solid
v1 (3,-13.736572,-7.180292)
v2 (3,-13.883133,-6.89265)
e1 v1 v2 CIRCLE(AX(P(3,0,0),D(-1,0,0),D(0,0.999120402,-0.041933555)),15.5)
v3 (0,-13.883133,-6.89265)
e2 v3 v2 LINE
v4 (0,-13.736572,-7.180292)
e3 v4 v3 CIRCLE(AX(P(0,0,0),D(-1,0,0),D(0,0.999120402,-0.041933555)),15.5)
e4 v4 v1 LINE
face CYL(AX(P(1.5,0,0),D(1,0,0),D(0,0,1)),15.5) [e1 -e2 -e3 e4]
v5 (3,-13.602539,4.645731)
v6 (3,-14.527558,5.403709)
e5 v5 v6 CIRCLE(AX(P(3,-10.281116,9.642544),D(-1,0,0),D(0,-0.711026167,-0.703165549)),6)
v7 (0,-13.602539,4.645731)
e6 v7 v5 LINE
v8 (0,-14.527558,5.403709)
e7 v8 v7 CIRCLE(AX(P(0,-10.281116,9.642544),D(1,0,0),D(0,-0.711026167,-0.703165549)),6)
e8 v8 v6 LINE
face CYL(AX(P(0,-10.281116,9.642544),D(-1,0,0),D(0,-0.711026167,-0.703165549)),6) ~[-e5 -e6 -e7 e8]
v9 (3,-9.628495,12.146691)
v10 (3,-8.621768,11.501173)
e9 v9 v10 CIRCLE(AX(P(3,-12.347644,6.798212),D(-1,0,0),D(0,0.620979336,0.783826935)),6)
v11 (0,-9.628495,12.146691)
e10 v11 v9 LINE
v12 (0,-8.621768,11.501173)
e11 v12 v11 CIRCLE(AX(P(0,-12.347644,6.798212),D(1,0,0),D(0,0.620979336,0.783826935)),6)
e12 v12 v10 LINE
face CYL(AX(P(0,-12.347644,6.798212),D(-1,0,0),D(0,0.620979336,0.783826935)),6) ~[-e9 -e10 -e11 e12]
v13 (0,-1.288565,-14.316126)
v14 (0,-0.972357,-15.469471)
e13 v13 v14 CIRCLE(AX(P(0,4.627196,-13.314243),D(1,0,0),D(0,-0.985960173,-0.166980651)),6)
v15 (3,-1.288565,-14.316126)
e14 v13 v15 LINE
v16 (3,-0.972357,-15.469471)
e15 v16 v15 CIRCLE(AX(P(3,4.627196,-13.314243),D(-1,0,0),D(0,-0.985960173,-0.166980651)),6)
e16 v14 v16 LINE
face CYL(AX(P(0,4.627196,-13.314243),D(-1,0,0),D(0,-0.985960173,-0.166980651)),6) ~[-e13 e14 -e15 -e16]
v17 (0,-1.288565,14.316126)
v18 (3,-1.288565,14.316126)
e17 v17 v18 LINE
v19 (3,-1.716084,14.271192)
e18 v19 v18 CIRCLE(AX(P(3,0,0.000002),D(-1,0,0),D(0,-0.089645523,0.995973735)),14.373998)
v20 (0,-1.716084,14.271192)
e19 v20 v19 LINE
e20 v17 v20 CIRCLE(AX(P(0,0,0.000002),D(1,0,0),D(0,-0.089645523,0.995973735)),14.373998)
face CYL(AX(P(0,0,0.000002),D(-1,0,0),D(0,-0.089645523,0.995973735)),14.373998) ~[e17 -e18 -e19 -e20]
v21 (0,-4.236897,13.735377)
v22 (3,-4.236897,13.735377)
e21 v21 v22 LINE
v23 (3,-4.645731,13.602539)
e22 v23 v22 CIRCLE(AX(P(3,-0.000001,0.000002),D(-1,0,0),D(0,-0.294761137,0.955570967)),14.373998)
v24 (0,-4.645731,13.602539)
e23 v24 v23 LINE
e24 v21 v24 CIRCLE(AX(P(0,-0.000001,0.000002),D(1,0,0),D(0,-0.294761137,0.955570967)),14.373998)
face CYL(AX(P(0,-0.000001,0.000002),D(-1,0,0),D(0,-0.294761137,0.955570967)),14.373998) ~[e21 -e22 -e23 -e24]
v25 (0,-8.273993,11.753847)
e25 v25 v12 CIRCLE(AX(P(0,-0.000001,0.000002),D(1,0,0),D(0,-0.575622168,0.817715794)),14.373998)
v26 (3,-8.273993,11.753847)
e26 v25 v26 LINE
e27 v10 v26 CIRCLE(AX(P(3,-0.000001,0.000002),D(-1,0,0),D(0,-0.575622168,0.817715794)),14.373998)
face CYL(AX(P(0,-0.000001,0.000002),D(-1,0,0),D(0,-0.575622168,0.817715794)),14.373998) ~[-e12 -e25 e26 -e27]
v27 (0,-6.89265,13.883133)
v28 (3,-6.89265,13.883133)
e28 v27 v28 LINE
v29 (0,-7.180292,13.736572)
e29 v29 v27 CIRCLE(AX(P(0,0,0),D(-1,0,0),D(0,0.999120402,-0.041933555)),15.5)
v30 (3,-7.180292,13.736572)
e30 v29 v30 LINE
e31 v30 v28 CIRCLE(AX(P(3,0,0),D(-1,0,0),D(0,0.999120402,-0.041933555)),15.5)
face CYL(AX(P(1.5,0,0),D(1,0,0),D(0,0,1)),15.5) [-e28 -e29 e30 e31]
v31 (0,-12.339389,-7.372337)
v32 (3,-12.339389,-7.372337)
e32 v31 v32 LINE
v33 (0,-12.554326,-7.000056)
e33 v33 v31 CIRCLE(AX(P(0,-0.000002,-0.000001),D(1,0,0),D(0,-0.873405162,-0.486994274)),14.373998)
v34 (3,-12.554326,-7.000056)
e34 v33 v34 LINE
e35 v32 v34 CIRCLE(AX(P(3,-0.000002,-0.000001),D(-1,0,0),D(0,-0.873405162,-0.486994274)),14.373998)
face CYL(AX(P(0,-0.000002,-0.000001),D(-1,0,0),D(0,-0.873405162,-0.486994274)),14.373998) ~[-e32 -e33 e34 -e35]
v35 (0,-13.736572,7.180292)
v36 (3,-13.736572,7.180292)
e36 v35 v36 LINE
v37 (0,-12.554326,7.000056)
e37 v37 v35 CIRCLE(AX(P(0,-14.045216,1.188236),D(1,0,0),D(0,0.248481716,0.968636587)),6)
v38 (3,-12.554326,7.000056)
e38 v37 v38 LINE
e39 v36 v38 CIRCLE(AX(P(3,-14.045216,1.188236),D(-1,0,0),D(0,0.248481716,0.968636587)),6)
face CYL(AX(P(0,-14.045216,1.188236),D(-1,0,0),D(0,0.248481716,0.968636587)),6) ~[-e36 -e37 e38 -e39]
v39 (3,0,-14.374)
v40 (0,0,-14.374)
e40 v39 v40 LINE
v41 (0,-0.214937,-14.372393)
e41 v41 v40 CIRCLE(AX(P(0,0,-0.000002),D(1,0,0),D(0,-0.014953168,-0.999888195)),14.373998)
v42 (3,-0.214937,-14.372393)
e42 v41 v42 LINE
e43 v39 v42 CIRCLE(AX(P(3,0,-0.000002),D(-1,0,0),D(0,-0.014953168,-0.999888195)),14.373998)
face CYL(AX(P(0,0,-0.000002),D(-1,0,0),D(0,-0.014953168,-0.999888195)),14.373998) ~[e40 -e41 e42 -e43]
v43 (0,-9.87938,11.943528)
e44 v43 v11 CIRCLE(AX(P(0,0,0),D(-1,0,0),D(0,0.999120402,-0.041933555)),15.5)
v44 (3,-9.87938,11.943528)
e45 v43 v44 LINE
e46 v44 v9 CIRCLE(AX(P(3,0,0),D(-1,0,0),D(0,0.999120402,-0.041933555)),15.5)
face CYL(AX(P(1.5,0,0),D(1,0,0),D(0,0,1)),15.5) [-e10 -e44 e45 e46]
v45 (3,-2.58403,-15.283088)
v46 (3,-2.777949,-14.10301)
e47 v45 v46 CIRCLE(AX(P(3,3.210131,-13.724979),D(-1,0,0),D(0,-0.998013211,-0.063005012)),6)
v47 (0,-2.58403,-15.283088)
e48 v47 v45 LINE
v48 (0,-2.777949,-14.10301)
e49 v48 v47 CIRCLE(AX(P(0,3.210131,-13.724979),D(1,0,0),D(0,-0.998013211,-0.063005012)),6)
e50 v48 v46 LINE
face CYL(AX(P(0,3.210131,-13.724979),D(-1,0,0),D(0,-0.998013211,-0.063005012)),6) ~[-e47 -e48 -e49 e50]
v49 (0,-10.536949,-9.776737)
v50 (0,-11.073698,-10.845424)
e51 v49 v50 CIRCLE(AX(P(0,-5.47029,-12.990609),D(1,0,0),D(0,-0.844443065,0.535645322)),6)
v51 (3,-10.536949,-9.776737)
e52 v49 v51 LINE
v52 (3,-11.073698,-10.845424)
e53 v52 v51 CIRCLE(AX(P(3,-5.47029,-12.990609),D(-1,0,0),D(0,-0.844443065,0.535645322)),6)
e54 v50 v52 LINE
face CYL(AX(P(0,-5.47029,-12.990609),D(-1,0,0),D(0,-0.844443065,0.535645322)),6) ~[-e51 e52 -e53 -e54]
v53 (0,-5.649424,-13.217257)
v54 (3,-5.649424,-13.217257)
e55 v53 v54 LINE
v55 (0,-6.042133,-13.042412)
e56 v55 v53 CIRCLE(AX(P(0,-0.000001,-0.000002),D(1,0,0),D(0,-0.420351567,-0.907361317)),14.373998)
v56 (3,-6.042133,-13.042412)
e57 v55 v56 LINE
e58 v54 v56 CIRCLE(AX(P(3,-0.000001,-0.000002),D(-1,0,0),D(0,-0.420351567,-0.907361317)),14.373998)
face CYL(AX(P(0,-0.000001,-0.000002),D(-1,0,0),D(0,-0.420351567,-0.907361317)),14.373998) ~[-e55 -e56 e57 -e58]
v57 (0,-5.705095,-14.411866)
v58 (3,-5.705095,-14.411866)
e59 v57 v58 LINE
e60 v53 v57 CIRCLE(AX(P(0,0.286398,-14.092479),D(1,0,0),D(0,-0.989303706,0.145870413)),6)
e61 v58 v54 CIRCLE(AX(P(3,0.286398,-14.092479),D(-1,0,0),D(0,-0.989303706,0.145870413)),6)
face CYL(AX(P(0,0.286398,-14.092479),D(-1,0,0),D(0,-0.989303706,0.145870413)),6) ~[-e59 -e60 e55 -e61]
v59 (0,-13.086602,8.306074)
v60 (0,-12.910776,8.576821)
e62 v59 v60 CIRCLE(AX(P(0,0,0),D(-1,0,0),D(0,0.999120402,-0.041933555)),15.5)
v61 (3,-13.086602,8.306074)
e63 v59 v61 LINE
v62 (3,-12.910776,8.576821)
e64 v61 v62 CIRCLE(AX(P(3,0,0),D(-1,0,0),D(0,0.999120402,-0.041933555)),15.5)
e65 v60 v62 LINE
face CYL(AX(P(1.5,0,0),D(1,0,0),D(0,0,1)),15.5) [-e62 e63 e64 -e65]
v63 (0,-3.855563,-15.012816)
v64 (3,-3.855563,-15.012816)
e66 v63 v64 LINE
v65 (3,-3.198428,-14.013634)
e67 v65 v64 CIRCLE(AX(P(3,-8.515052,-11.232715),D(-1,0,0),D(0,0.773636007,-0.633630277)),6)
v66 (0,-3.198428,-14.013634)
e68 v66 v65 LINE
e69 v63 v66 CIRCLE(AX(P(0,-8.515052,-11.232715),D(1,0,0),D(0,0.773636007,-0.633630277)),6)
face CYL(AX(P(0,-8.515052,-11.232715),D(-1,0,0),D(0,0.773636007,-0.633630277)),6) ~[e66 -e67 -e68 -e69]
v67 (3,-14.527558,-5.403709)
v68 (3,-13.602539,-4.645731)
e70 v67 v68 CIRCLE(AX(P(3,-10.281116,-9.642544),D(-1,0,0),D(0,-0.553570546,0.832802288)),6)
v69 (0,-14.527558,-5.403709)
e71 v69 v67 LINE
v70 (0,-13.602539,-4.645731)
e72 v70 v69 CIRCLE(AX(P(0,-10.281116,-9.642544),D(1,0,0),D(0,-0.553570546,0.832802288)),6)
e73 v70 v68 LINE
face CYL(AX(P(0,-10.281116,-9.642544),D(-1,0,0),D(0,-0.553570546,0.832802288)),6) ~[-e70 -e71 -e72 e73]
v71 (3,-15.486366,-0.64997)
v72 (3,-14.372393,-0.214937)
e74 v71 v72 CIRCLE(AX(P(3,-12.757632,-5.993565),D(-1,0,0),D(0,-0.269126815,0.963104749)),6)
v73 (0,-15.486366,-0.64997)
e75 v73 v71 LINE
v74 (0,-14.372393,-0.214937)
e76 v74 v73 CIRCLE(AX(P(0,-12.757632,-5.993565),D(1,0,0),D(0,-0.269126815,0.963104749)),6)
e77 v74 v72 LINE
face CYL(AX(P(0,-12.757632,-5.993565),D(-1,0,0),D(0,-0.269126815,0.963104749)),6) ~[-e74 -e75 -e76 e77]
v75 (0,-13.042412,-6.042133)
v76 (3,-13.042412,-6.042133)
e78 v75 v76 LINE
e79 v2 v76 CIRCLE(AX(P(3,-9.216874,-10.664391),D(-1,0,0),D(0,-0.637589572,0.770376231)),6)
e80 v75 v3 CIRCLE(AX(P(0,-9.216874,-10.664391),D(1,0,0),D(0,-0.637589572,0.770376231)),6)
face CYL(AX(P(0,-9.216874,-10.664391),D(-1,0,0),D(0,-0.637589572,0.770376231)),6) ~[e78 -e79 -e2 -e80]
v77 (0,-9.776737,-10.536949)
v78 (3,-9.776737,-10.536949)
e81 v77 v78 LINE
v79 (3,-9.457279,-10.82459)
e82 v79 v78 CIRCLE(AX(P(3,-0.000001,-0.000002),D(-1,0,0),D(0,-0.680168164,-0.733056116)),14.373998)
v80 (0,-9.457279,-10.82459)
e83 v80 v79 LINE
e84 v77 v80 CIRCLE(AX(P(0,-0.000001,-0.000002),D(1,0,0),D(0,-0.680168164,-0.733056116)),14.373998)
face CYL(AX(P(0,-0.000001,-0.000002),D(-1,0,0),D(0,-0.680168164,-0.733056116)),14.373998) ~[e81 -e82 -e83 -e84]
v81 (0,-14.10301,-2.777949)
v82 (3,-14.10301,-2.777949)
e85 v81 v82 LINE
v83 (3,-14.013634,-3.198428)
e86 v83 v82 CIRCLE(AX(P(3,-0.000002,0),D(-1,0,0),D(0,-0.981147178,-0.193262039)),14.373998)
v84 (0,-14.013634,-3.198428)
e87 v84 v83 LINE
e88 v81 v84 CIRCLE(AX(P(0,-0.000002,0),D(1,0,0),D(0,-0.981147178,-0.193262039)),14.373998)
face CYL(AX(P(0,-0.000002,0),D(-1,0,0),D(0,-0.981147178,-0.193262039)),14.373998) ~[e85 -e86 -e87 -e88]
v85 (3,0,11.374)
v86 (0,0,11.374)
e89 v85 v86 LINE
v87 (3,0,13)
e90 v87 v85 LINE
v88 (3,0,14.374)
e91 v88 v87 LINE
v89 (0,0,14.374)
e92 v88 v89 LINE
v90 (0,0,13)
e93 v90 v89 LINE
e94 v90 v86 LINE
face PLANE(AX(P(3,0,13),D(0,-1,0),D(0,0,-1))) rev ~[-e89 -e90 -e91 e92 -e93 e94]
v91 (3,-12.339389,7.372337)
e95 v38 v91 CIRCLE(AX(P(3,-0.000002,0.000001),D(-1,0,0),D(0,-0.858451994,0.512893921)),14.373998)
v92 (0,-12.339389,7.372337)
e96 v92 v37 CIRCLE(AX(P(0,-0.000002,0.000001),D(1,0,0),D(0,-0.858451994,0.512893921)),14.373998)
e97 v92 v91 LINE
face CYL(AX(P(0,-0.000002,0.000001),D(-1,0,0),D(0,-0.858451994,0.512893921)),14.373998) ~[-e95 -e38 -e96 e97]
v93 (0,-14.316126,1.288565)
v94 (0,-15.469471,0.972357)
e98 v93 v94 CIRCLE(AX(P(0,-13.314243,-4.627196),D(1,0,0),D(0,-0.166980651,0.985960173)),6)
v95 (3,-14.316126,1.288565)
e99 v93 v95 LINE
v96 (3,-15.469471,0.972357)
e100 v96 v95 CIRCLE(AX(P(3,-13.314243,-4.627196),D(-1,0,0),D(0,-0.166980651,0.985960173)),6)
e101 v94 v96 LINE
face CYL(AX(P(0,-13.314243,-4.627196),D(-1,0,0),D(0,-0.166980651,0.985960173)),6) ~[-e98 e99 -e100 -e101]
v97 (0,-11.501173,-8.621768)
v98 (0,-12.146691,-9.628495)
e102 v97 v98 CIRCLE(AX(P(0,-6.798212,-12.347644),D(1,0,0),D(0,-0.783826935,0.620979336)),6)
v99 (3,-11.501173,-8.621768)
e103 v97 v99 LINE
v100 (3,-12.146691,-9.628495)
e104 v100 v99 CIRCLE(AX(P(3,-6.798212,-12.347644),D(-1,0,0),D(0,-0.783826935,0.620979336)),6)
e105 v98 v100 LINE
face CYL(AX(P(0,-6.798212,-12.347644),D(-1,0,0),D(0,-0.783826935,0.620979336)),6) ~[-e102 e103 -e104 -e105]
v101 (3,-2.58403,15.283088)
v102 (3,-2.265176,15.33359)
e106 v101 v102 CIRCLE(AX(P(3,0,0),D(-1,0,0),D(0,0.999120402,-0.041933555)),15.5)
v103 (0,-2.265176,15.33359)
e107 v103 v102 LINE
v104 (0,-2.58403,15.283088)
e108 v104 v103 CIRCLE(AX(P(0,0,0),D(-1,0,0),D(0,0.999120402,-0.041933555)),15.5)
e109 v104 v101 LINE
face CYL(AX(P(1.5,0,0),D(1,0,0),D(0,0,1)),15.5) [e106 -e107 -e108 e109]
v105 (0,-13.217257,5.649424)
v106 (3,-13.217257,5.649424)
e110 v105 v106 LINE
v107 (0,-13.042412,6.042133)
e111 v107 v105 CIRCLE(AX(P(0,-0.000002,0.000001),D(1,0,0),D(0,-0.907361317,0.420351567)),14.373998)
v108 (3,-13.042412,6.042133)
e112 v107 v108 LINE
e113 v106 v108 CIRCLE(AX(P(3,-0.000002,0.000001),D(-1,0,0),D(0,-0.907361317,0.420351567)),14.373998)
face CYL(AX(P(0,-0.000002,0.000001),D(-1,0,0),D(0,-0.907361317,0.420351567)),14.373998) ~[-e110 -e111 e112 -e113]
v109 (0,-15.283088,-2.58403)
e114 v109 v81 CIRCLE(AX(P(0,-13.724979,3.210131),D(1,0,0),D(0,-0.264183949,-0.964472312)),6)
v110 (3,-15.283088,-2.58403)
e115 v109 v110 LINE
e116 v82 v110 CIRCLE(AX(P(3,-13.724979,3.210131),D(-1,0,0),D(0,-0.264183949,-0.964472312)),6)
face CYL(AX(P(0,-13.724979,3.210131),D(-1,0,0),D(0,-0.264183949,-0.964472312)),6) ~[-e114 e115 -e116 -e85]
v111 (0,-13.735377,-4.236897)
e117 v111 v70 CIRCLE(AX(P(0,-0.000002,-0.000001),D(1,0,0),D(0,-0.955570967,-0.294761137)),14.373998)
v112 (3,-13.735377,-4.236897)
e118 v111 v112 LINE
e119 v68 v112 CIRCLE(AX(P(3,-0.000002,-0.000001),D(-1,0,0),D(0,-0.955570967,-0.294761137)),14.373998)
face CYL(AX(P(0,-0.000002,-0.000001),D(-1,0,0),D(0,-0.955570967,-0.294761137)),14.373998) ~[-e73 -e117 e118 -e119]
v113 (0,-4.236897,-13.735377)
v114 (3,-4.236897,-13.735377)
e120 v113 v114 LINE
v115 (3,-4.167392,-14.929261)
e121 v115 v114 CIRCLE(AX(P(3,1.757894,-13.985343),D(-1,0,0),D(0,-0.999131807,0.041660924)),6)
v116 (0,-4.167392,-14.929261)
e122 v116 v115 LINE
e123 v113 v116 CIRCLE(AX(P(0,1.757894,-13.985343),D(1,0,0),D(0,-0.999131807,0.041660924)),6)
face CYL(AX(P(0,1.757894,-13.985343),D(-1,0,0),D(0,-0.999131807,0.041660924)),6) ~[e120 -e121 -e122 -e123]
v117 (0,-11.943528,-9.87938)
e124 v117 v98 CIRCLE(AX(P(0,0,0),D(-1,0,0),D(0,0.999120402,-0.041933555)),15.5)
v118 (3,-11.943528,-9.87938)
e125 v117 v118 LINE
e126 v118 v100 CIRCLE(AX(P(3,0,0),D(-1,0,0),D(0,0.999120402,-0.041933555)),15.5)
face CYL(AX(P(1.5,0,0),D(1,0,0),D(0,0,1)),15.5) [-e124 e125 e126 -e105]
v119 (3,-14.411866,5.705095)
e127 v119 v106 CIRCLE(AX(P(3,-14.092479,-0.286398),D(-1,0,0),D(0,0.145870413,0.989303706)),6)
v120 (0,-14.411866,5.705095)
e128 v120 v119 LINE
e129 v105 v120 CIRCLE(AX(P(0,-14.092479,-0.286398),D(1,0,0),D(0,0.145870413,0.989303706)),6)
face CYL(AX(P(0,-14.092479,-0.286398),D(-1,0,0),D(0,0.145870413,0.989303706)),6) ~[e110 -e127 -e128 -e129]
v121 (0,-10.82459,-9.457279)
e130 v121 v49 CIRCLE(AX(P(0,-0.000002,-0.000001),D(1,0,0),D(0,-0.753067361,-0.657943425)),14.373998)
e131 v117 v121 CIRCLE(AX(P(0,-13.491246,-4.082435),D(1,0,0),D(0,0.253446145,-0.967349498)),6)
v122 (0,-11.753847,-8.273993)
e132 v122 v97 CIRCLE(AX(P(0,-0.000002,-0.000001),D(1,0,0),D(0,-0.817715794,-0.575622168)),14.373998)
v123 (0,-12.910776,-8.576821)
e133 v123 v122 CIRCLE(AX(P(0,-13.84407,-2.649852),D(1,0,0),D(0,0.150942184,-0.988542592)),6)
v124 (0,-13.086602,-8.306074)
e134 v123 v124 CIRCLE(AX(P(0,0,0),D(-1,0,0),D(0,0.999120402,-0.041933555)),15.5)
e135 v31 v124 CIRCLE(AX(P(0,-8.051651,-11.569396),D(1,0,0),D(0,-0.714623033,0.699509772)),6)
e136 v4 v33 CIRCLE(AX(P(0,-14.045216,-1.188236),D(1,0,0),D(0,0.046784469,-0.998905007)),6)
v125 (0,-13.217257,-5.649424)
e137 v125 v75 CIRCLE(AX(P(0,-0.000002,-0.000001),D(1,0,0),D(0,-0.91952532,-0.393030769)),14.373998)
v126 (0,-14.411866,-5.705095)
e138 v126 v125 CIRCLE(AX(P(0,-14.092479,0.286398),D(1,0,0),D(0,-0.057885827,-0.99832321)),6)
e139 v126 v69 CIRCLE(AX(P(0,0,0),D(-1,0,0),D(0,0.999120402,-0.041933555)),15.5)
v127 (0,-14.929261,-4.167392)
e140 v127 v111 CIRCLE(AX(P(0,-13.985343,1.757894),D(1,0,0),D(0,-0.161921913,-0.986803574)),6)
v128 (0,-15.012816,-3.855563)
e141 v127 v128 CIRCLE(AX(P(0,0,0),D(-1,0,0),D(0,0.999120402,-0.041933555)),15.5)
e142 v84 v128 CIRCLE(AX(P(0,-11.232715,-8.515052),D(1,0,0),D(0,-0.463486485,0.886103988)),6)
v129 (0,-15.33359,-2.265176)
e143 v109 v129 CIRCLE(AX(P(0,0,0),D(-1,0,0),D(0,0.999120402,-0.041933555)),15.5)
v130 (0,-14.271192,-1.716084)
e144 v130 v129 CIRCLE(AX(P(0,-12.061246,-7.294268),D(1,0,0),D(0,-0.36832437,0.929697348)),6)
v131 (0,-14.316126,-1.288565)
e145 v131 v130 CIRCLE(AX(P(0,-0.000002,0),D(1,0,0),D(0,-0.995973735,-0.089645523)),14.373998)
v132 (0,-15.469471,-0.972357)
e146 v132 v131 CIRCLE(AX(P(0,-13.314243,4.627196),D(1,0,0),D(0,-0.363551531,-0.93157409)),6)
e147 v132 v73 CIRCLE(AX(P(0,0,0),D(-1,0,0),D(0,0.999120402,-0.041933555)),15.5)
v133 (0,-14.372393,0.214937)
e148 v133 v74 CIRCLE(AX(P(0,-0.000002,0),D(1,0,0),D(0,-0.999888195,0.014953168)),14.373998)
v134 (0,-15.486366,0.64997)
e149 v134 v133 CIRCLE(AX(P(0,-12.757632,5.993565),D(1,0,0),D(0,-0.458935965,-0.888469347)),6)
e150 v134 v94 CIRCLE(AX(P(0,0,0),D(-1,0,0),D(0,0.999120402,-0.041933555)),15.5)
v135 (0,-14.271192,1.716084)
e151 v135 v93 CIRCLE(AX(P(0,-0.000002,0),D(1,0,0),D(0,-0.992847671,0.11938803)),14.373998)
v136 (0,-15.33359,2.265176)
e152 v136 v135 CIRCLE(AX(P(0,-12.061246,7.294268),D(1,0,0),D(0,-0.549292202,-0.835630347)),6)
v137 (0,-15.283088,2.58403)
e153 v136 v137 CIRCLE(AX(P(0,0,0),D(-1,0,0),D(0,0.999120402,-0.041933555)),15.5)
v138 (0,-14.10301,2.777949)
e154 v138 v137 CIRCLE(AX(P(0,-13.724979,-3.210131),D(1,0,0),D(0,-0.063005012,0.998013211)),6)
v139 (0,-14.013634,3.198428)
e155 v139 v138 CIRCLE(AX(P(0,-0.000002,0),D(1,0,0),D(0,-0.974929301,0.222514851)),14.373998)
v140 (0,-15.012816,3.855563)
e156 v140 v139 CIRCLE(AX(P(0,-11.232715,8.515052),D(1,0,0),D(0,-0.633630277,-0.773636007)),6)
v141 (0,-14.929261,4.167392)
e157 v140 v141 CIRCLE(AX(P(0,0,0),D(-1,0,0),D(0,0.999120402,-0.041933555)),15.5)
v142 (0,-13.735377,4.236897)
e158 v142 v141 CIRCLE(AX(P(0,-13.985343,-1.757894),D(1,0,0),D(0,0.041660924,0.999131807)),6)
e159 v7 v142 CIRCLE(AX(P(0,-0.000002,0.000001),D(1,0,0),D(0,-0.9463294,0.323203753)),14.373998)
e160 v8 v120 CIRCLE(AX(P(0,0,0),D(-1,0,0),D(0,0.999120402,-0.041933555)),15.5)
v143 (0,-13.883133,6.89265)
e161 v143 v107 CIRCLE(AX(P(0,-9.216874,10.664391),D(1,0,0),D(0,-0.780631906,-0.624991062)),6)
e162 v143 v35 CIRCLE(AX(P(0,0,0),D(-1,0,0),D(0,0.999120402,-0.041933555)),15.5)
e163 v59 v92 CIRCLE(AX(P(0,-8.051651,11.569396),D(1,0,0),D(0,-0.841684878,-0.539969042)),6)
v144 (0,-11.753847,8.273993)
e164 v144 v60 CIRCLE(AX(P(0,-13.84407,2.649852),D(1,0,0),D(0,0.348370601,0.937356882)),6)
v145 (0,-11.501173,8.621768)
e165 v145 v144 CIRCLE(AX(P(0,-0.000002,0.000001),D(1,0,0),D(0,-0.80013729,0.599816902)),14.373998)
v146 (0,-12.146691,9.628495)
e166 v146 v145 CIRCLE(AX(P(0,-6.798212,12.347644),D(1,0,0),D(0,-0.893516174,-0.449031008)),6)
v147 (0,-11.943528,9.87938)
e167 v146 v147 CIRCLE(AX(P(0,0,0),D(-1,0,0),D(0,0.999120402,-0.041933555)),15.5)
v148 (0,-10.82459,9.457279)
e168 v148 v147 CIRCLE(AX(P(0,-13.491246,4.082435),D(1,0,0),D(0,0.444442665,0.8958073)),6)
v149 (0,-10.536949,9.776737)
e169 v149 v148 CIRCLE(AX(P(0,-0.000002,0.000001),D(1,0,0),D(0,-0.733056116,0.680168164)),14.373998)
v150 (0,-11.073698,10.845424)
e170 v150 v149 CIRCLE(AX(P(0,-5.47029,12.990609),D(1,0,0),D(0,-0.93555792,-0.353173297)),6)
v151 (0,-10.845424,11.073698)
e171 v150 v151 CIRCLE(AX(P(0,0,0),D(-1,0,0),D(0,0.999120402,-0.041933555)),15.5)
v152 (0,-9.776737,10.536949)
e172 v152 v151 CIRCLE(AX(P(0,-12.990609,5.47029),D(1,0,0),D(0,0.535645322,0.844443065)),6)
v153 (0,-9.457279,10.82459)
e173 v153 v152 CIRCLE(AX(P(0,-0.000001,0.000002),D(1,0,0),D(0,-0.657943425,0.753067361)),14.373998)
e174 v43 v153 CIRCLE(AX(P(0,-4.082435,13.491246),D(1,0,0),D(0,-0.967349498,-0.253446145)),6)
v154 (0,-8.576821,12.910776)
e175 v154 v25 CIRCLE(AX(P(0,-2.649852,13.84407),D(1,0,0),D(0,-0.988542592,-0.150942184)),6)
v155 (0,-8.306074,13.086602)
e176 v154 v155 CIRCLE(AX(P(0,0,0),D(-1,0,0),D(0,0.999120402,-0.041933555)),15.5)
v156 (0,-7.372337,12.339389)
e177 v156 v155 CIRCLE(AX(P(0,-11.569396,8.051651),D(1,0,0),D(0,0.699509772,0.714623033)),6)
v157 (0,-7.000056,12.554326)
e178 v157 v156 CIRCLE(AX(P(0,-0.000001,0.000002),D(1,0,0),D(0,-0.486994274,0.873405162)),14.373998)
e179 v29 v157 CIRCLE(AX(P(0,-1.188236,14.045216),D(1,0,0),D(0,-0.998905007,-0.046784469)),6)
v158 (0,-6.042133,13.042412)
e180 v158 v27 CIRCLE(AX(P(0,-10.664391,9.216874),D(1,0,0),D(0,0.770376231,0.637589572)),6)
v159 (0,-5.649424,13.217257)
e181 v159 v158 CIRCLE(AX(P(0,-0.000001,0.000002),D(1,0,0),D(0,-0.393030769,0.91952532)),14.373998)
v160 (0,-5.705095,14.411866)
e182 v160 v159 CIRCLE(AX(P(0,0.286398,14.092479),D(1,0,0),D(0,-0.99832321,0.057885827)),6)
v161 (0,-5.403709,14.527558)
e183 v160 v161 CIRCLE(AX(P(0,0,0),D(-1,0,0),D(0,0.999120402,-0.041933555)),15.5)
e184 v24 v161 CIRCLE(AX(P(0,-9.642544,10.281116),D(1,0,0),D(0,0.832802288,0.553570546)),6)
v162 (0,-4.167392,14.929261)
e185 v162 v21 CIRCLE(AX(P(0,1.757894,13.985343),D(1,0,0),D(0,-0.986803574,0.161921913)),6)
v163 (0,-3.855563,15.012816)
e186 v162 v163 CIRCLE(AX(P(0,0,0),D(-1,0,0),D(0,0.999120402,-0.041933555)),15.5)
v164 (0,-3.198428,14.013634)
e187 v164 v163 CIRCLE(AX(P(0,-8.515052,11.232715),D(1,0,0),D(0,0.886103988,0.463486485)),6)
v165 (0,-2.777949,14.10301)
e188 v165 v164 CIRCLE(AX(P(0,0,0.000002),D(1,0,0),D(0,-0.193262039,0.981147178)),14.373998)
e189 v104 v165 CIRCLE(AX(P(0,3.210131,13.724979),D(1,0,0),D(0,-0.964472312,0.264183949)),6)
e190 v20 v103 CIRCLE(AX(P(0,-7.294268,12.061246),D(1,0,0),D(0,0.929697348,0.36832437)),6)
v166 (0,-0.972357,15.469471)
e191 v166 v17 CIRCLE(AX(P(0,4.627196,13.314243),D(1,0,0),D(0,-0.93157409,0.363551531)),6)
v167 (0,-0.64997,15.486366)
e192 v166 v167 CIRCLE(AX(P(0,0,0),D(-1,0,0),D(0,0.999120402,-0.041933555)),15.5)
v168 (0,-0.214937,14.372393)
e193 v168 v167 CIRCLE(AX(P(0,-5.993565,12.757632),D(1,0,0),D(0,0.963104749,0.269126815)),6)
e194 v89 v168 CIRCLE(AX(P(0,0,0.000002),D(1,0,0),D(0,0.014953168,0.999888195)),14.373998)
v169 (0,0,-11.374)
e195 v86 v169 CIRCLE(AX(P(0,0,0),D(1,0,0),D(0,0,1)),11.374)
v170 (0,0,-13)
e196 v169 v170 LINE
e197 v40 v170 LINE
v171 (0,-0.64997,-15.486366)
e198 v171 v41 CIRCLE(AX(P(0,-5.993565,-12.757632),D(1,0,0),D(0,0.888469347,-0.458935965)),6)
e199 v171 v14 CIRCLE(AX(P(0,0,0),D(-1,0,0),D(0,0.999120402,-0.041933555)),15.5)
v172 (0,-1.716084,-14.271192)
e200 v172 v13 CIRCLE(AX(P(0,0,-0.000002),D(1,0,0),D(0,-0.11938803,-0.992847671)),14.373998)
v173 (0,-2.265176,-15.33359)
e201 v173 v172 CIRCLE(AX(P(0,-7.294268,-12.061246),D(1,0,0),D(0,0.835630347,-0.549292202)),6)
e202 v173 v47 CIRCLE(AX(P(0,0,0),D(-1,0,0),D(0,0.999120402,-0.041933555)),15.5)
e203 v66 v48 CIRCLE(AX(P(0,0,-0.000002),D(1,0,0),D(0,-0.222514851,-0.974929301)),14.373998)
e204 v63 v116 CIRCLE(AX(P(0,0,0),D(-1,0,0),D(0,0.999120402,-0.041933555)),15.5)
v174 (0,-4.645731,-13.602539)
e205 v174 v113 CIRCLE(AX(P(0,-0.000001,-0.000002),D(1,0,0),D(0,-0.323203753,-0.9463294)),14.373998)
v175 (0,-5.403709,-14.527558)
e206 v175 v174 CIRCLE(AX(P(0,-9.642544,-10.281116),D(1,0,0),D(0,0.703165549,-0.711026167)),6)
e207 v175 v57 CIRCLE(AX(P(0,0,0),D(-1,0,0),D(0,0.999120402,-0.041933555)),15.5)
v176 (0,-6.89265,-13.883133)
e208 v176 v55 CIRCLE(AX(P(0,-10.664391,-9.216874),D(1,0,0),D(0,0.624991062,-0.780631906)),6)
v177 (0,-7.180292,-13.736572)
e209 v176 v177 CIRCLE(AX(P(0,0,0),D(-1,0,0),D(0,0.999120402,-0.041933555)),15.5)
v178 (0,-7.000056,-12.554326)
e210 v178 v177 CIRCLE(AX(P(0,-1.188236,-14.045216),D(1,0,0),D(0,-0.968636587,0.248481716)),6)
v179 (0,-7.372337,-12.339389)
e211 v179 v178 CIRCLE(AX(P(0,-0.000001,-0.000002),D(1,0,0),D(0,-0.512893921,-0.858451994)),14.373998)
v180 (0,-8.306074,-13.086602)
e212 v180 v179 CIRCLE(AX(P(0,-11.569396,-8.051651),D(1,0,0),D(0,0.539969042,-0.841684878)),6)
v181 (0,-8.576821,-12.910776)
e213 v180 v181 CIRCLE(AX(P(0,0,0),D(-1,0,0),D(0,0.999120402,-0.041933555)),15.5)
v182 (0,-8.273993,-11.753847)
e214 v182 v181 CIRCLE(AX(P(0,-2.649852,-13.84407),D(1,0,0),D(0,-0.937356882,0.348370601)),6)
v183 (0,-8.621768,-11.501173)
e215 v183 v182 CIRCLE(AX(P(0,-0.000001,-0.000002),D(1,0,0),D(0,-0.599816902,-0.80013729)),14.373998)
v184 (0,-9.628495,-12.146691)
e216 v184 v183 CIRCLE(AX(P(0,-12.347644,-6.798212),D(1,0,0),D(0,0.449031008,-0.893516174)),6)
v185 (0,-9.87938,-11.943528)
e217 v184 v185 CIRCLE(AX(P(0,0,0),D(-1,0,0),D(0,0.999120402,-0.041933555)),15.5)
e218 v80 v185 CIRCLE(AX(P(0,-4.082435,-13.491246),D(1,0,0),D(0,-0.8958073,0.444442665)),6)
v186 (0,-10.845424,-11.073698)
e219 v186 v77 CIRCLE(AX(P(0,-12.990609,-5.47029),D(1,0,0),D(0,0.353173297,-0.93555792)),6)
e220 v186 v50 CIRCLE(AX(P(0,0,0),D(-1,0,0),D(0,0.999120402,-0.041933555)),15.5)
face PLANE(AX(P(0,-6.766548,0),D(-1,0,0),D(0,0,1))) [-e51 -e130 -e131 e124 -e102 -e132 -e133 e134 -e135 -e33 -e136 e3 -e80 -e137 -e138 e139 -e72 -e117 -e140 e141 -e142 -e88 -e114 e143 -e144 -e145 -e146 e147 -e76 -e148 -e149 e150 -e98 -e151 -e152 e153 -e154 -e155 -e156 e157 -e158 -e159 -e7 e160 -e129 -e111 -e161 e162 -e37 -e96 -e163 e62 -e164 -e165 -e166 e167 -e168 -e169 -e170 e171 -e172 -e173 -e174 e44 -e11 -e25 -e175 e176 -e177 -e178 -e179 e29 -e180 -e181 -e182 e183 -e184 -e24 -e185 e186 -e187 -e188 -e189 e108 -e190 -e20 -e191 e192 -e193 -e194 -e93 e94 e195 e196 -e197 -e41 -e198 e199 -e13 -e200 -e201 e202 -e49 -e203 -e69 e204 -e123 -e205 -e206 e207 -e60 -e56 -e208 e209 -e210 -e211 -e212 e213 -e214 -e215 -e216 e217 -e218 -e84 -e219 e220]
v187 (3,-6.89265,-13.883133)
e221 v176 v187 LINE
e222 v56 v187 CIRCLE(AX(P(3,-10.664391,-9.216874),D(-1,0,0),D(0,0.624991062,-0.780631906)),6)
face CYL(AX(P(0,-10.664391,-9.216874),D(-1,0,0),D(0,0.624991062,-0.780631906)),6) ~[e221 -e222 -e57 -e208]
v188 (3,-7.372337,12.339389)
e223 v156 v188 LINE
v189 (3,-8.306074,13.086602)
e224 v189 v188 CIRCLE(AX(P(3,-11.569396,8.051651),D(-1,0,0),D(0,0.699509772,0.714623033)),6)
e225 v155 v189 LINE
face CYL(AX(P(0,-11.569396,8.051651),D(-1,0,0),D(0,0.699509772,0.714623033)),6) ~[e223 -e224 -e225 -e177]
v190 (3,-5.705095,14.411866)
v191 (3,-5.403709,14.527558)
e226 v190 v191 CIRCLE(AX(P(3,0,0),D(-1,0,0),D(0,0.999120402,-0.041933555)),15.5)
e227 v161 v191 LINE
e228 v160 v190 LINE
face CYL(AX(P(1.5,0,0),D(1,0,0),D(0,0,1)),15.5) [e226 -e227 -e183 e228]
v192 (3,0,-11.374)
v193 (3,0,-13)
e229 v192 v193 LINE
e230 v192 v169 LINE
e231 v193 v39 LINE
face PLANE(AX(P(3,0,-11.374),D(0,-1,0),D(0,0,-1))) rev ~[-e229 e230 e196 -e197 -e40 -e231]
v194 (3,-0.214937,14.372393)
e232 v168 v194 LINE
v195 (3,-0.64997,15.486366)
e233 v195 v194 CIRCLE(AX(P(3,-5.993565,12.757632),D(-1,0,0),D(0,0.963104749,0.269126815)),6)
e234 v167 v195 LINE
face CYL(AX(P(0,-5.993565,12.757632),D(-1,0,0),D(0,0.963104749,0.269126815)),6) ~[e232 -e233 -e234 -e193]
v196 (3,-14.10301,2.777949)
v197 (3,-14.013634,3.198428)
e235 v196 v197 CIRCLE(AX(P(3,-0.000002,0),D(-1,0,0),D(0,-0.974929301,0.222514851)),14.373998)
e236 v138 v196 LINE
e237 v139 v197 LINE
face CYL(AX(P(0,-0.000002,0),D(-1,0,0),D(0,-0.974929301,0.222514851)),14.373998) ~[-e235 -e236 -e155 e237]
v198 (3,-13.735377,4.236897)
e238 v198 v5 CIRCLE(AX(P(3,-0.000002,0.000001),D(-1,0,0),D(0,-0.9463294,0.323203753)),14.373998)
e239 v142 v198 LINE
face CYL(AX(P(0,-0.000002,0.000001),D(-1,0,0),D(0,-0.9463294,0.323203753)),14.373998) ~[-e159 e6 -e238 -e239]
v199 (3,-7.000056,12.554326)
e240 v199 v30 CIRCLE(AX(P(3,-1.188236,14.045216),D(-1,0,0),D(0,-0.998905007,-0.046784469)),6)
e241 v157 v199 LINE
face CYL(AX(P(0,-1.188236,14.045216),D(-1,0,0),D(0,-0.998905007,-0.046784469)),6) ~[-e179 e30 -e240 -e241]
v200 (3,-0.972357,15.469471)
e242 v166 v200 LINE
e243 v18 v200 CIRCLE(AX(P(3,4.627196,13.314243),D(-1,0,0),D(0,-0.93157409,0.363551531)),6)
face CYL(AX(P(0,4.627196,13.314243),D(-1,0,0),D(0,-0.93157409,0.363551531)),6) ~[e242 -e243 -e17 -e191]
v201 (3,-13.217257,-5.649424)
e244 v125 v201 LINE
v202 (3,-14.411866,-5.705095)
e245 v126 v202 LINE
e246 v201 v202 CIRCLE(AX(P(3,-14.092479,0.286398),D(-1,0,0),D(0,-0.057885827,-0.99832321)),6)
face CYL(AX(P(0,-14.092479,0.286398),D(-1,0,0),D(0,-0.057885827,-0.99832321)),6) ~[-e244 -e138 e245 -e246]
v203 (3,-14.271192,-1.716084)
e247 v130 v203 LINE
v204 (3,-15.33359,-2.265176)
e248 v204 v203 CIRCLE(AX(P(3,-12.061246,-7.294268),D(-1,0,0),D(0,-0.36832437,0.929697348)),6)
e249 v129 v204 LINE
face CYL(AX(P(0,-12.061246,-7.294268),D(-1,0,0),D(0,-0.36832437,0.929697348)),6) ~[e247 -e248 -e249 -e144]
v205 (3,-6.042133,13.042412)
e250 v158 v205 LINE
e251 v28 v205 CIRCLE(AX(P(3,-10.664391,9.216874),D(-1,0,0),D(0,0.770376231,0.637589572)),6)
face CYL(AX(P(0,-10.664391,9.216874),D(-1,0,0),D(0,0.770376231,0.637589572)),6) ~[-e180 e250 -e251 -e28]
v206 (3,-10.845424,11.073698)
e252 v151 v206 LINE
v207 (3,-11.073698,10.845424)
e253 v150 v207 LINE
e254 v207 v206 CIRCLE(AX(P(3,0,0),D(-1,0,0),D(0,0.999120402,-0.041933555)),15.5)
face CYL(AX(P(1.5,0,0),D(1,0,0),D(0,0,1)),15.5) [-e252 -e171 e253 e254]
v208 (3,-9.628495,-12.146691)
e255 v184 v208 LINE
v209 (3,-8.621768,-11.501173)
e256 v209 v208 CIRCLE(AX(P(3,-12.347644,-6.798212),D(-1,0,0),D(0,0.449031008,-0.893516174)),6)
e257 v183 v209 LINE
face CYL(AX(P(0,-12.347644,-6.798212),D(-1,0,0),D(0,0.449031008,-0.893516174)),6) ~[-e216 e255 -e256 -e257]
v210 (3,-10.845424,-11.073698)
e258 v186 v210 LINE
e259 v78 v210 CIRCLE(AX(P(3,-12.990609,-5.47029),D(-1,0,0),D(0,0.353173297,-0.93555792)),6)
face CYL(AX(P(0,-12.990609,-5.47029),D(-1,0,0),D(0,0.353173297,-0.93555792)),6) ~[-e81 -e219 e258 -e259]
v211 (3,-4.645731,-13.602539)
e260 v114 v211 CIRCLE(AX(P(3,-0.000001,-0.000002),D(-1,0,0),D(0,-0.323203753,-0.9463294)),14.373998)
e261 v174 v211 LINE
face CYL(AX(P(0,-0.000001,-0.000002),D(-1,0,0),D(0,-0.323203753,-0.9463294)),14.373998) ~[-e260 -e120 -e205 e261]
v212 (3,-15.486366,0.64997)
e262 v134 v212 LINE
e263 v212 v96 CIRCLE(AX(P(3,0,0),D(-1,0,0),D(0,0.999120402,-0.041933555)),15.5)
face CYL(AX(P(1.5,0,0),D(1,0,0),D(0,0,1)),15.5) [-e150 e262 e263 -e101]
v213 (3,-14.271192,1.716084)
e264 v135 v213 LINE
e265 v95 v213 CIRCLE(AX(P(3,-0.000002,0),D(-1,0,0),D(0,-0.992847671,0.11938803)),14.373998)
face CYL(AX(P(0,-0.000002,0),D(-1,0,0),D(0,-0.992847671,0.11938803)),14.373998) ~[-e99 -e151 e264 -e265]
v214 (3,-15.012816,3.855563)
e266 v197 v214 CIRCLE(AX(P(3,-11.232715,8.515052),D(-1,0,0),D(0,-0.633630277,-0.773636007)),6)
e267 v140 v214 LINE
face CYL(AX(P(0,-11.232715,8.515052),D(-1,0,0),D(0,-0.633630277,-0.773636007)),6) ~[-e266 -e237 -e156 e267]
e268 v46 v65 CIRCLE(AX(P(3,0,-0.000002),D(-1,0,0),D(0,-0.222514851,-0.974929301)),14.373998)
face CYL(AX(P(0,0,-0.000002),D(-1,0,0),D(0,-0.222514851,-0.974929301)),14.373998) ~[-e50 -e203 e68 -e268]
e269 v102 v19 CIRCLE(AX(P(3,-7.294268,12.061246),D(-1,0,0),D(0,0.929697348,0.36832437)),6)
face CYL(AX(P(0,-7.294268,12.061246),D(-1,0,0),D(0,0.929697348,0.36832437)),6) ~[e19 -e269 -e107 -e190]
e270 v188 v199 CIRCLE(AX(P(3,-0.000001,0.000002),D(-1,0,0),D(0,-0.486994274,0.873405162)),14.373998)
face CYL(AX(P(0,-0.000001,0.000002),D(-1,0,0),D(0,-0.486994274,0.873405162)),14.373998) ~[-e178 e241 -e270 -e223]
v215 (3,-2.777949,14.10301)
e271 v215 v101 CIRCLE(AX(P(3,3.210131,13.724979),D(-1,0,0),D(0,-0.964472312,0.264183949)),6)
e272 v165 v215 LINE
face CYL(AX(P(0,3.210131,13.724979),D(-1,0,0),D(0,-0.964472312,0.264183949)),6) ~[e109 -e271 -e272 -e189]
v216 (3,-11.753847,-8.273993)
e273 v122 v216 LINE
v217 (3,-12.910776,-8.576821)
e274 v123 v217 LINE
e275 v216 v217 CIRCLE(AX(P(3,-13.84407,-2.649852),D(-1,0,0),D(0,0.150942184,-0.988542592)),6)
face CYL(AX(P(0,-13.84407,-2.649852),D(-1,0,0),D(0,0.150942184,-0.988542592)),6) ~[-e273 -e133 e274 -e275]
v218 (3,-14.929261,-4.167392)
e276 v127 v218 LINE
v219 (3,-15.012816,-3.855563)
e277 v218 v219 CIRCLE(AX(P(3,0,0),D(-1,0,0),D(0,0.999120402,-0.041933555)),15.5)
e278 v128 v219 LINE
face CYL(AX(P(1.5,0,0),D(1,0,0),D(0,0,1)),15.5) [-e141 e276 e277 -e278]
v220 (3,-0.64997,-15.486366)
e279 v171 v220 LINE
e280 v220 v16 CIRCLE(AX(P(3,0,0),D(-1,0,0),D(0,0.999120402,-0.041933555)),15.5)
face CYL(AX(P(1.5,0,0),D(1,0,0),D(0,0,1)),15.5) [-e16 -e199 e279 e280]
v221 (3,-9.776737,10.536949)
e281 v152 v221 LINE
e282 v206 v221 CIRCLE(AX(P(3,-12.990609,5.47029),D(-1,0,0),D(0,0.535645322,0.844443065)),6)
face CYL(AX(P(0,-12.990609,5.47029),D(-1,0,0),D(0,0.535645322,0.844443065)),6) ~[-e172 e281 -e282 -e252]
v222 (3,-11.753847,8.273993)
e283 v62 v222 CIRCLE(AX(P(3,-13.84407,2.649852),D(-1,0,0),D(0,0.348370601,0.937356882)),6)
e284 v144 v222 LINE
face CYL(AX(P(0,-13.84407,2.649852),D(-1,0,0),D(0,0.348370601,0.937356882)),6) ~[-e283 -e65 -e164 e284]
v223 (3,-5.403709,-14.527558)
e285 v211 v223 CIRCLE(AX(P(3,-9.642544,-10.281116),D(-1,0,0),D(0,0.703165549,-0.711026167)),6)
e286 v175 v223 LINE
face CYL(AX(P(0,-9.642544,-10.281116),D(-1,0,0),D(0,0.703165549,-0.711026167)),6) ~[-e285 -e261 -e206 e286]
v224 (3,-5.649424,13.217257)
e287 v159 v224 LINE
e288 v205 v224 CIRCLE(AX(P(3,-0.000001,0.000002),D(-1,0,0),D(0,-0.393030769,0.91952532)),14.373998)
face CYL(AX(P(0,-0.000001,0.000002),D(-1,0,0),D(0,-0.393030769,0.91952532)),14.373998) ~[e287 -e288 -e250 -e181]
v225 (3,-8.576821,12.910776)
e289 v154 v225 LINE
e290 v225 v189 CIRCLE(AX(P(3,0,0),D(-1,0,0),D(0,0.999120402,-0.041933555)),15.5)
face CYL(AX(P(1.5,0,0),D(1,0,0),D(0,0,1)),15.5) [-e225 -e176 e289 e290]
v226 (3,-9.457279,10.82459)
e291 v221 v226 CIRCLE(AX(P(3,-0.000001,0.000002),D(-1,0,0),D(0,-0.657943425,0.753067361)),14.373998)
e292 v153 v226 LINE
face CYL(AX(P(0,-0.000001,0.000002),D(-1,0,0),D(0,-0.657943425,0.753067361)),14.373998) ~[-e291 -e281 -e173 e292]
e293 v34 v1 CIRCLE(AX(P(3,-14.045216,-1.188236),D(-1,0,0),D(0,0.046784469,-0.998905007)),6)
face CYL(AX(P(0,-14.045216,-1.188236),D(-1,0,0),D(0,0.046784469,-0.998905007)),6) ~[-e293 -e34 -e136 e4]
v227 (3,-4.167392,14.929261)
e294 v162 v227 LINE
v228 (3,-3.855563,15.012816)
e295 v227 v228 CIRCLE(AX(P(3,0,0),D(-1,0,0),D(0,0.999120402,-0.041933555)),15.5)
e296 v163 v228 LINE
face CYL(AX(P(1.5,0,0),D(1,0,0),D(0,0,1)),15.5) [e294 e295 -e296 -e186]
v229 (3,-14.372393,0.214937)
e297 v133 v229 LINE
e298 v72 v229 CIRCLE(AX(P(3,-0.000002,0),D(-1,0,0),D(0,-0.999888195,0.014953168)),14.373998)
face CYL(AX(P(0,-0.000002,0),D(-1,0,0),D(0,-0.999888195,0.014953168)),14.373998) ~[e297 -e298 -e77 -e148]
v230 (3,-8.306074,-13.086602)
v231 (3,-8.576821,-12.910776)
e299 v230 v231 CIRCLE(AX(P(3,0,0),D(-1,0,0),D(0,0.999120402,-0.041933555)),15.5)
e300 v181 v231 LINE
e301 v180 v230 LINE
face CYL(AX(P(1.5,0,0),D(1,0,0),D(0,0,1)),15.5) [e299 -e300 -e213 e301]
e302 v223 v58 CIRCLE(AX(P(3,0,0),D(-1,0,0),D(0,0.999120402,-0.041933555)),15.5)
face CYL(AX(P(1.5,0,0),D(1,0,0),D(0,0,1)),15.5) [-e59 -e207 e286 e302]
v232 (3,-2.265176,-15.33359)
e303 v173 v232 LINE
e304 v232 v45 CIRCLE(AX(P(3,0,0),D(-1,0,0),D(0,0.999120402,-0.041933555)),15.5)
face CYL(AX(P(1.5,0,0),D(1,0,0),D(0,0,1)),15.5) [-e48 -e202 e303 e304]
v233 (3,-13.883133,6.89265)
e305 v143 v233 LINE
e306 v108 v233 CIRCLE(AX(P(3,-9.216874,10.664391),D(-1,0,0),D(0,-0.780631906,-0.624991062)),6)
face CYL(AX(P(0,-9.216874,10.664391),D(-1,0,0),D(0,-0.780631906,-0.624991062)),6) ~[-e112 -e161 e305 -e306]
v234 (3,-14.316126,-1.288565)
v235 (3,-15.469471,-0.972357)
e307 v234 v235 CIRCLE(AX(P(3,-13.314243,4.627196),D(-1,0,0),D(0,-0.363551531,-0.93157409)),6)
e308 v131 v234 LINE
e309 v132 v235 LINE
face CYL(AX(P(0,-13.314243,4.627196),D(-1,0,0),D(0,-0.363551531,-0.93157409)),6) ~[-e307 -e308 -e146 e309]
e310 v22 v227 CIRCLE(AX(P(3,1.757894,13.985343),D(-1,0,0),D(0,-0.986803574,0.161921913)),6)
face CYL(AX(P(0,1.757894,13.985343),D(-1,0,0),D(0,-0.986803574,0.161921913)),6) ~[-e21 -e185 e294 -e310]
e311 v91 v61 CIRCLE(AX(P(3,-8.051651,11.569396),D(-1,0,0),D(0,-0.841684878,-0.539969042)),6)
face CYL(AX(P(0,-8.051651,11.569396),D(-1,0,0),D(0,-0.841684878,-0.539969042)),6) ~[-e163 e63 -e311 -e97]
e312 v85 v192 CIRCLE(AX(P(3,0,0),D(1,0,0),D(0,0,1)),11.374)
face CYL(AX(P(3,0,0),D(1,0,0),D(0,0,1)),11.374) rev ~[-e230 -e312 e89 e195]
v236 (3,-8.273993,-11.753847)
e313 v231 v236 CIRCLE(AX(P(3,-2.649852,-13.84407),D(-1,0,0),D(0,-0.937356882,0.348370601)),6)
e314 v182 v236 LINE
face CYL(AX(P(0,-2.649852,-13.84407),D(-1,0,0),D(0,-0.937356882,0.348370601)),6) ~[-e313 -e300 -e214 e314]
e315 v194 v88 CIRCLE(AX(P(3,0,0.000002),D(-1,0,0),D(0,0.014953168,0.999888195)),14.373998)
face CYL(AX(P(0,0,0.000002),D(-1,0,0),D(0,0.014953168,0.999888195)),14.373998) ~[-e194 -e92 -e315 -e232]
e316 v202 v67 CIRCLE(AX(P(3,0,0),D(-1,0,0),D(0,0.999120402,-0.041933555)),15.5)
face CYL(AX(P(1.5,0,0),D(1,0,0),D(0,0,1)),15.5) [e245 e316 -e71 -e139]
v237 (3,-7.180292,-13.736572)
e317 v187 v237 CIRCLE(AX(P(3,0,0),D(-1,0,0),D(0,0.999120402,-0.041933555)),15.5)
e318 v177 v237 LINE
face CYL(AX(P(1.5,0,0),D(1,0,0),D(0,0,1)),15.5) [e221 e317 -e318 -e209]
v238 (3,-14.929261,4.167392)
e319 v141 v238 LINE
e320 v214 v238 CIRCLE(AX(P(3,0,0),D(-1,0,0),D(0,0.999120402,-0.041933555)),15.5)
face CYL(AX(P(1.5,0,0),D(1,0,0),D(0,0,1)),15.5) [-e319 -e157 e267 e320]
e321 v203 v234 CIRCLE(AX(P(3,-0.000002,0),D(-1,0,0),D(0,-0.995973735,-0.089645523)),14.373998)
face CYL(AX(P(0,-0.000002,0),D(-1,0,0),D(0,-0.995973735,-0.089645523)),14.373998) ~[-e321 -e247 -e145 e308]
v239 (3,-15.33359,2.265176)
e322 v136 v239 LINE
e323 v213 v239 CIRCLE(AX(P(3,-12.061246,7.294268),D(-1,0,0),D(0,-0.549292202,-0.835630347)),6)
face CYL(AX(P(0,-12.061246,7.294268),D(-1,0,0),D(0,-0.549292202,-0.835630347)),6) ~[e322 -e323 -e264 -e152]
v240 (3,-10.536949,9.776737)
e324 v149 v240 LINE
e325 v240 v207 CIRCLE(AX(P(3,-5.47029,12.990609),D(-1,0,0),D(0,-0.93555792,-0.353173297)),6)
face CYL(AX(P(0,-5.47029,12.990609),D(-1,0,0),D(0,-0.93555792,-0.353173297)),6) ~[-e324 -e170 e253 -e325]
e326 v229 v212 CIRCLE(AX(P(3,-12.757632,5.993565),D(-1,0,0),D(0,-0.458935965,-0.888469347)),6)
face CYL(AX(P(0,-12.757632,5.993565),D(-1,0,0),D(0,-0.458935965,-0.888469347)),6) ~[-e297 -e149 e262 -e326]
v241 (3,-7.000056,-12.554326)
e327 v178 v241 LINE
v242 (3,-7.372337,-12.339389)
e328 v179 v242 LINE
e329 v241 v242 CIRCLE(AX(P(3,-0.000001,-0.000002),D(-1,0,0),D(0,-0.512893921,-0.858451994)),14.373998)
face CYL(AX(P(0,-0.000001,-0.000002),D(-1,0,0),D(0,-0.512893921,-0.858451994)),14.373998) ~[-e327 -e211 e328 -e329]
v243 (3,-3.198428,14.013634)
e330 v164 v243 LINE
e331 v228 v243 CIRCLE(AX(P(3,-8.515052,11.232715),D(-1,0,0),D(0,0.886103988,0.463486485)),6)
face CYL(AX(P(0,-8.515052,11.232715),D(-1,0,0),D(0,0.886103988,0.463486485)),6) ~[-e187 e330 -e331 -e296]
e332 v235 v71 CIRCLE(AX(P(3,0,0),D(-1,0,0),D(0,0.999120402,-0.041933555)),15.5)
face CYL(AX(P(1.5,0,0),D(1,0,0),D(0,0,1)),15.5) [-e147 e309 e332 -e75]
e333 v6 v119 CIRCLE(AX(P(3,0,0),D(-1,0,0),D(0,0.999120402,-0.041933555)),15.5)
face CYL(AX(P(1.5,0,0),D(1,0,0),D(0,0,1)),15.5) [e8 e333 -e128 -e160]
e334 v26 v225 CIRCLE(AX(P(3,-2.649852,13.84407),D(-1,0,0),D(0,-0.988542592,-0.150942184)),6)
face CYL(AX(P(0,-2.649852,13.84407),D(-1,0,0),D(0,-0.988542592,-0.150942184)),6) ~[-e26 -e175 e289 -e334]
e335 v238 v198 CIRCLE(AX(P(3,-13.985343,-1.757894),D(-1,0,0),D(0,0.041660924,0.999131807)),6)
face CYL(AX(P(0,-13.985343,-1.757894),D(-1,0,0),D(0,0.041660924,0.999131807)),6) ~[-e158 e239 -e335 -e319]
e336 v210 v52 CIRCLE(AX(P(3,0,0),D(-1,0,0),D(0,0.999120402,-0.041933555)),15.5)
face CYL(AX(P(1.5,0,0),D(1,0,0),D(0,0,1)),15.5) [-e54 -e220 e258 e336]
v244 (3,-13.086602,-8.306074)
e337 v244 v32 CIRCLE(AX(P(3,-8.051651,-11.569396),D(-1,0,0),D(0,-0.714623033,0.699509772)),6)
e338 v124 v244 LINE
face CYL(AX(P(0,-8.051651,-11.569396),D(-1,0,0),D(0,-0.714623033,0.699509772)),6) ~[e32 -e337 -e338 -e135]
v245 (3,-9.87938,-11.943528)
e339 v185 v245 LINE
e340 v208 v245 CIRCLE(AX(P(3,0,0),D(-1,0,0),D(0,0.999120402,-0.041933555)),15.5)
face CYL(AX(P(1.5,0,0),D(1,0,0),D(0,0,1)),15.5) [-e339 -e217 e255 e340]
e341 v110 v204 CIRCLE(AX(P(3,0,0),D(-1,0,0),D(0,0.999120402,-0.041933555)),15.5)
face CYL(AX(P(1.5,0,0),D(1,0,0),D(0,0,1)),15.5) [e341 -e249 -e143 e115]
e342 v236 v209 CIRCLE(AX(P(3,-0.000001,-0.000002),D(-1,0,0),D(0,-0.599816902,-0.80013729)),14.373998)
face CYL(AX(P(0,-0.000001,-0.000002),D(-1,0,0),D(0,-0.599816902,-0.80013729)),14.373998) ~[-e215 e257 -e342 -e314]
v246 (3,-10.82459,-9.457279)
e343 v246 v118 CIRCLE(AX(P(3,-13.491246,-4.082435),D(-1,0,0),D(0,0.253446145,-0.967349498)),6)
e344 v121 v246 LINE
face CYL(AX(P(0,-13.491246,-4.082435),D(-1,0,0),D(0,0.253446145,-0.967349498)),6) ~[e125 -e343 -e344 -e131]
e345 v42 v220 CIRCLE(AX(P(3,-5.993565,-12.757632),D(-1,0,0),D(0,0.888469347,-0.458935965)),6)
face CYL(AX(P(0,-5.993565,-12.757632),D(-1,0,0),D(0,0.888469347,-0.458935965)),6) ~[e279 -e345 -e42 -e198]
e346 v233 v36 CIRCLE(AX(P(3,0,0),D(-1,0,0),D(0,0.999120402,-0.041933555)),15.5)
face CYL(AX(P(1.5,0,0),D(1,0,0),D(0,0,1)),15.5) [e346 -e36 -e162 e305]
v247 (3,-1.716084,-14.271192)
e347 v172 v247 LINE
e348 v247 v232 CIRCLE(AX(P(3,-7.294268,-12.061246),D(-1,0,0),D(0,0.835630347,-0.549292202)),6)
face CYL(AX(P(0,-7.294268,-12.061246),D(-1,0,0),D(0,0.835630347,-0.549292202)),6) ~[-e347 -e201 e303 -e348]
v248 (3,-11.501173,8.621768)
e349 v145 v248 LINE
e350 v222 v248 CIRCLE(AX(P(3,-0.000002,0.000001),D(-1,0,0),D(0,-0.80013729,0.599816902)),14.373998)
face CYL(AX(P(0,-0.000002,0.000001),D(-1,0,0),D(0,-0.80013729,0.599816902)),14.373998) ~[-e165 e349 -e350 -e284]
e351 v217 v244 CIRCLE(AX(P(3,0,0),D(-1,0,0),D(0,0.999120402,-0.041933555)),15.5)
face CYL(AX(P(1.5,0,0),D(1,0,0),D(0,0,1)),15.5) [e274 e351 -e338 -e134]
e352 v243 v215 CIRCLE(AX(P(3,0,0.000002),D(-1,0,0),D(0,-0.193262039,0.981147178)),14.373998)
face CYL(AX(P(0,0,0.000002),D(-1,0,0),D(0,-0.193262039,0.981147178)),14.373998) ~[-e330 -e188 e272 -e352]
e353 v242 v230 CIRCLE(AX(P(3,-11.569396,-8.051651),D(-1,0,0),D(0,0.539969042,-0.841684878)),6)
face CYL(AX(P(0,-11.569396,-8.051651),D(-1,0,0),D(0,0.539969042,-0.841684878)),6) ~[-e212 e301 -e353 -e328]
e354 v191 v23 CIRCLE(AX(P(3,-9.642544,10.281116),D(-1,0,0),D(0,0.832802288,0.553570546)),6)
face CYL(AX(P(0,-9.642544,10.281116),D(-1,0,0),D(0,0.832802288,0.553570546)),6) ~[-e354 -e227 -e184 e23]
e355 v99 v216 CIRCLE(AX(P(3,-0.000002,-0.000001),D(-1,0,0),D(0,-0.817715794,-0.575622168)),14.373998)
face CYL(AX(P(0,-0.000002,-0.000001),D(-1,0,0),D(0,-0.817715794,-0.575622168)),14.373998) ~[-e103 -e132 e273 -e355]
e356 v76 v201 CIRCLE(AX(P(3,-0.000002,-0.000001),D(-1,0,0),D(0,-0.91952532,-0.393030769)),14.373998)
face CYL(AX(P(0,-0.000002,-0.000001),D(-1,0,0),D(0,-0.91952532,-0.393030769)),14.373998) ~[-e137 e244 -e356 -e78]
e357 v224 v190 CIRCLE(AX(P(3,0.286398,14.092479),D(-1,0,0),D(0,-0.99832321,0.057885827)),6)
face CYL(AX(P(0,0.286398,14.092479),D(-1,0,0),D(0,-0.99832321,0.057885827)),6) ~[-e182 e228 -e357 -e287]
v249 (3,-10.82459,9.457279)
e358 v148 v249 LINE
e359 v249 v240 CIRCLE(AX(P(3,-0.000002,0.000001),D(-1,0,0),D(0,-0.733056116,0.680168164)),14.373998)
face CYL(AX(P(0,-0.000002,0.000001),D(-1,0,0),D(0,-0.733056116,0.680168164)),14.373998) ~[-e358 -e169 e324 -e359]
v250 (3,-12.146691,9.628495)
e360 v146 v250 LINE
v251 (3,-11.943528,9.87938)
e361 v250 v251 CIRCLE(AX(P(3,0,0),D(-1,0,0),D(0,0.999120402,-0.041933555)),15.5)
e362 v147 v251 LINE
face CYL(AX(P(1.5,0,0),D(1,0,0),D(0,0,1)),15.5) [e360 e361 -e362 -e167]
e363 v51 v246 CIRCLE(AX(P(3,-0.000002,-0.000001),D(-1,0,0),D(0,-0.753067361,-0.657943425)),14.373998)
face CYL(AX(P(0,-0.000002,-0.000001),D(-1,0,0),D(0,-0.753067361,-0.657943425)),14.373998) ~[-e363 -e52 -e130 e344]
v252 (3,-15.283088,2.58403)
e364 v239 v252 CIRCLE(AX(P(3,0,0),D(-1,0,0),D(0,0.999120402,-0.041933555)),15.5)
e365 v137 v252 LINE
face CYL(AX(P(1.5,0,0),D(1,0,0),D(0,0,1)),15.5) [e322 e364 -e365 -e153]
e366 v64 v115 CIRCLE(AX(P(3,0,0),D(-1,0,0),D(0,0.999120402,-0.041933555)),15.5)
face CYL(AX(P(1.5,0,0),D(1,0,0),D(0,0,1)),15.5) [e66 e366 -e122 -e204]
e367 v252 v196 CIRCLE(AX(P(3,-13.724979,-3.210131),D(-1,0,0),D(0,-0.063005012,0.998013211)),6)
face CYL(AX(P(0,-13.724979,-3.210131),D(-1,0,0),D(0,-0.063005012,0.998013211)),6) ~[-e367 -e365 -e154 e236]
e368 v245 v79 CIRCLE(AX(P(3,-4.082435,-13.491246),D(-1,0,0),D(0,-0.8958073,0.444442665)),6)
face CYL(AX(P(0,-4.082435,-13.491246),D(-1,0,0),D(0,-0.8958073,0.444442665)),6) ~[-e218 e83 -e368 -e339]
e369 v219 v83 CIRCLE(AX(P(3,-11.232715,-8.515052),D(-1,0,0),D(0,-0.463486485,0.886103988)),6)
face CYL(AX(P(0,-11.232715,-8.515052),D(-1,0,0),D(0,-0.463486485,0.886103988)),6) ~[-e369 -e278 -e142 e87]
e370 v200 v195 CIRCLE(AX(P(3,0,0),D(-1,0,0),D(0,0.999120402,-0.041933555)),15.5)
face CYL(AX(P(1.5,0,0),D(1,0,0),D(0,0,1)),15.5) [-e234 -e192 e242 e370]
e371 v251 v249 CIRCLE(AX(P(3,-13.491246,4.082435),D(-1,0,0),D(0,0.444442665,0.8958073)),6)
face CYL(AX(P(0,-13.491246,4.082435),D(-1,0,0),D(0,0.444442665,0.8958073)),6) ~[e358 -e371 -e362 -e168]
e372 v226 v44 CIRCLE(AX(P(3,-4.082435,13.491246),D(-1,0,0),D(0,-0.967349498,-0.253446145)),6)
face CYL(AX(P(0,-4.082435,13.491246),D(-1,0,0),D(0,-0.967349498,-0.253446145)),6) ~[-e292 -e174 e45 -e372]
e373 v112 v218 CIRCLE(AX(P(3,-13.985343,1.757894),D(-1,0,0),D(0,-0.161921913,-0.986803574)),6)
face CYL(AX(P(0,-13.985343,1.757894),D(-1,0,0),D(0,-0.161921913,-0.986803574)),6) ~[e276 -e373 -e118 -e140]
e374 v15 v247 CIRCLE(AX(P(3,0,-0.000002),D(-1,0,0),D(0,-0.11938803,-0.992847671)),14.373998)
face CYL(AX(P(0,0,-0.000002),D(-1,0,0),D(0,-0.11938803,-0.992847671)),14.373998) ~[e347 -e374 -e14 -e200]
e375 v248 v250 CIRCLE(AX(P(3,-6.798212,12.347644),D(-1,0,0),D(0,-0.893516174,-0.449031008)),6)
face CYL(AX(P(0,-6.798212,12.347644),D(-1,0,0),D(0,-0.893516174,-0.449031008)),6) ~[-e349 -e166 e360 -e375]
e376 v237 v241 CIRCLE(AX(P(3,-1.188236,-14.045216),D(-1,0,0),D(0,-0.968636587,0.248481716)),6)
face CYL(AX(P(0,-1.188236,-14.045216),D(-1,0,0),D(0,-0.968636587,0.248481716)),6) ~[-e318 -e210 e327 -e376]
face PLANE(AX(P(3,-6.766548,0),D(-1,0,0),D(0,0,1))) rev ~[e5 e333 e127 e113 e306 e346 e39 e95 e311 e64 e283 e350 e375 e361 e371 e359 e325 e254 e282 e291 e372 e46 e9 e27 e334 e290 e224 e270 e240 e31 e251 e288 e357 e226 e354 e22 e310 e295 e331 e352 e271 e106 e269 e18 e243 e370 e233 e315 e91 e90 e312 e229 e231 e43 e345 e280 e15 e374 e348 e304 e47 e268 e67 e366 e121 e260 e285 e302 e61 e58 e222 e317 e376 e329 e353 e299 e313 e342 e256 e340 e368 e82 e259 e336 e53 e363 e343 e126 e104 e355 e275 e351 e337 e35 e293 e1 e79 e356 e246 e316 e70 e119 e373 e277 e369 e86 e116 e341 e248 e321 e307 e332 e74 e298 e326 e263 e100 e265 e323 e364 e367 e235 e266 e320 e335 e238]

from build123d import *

# Parameters (mm, degrees)
BASPROSKE_W             = 3
BASPROSKE_H             = 15.5
TOOTHCUT_DEPTH          = 23.12464689
TEETHCUTS_COUNT         = 60
TEETHCUTS_ANGLE         = 354
BORSKE_R                = 13
BORE_DEPTH              = 50.0000508
CROQUIS1_W              = 35.088386171
CROQUIS1_H              = 16.253421715
CORTAR_EXTRUIR1_DEPTH   = 23.10554405
SALIENTE_EXTRUIR1_DEPTH = 3


with BuildPart() as part:
    # BasProSke → Base-Revolve (revolve)
    with BuildSketch(Plane(origin=(0, 0, 0), x_dir=(1, 0, 0), z_dir=(0, 1, 0)), mode=Mode.PRIVATE) as base_revolve_sk:
        with Locations((1.5, 7.75)):
            Rectangle(BASPROSKE_W, BASPROSKE_H)
    revolve(base_revolve_sk.sketch.rotate(Axis((-10, 0, 0), (1, 0, 0)), 180), axis=Axis((-10, 0, 0), (1, 0, 0)))

    # TooCutSke → ToothCut (cut, through all)
    with BuildSketch(Plane(origin=(0, 0, 0), x_dir=(0, 0, -1), z_dir=(1, 0, 0))):
        with BuildLine():
            ThreePointArc((0.21493681, 14.372392917), (0, 14.374), (-0.21493681, 14.372392917))
            ThreePointArc((-0.21493681, 14.372392917), (-0.409732631, 14.953266942), (-0.662749221, 15.51124781))
            ThreePointArc((-0.662749221, 15.51124781), (0, 15.5254), (0.662749221, 15.51124781))
            ThreePointArc((0.662749221, 15.51124781), (0.409732631, 14.953266942), (0.21493681, 14.372392917))
        make_face()
    toothcut = extrude(amount=TOOTHCUT_DEPTH, mode=Mode.SUBTRACT)

    # TeethCuts: ToothCut ×60 about axis
    teethcuts_axis = Axis((-10, 0, 0), (1, 0, 0))
    for i in range(1, TEETHCUTS_COUNT):
        add(toothcut.rotate(teethcuts_axis, i * TEETHCUTS_ANGLE / (TEETHCUTS_COUNT - 1)), mode=Mode.SUBTRACT)

    # BorSke → Bore (cut, symmetric)
    with BuildSketch(Plane(origin=(0, 0, 0), x_dir=(0, 0, -1), z_dir=(1, 0, 0))):
        with Locations(Location((0, 0, 0), (0, 0, 180))):
            Circle(BORSKE_R)
    extrude(amount=BORE_DEPTH, both=True, mode=Mode.SUBTRACT)

    # Croquis1 → Cortar-Extruir1 (cut, through all)
    with BuildSketch(Plane(origin=(3, 0, 0), x_dir=(0, 0, -1), z_dir=(1, 0, 0))):
        with Locations((0.283547397, 8.126710858)):
            Rectangle(CROQUIS1_W, CROQUIS1_H)
    extrude(amount=-CORTAR_EXTRUIR1_DEPTH, mode=Mode.SUBTRACT)

    # Croquis2 → Saliente-Extruir1 (add, through all)
    with BuildSketch(Plane(origin=(3, 0, 0), x_dir=(0, 0, -1), z_dir=(1, 0, 0))):
        with BuildLine():
            Line((-13, 0), (-11.374, 0))
            ThreePointArc((-11.374, 0), (0, -11.374), (11.374, 0))
            Line((11.374, 0), (13, 0))
            ThreePointArc((13, 0), (0, -13), (-13, 0))
        make_face()
    extrude(amount=-SALIENTE_EXTRUIR1_DEPTH)


solid = part.part
